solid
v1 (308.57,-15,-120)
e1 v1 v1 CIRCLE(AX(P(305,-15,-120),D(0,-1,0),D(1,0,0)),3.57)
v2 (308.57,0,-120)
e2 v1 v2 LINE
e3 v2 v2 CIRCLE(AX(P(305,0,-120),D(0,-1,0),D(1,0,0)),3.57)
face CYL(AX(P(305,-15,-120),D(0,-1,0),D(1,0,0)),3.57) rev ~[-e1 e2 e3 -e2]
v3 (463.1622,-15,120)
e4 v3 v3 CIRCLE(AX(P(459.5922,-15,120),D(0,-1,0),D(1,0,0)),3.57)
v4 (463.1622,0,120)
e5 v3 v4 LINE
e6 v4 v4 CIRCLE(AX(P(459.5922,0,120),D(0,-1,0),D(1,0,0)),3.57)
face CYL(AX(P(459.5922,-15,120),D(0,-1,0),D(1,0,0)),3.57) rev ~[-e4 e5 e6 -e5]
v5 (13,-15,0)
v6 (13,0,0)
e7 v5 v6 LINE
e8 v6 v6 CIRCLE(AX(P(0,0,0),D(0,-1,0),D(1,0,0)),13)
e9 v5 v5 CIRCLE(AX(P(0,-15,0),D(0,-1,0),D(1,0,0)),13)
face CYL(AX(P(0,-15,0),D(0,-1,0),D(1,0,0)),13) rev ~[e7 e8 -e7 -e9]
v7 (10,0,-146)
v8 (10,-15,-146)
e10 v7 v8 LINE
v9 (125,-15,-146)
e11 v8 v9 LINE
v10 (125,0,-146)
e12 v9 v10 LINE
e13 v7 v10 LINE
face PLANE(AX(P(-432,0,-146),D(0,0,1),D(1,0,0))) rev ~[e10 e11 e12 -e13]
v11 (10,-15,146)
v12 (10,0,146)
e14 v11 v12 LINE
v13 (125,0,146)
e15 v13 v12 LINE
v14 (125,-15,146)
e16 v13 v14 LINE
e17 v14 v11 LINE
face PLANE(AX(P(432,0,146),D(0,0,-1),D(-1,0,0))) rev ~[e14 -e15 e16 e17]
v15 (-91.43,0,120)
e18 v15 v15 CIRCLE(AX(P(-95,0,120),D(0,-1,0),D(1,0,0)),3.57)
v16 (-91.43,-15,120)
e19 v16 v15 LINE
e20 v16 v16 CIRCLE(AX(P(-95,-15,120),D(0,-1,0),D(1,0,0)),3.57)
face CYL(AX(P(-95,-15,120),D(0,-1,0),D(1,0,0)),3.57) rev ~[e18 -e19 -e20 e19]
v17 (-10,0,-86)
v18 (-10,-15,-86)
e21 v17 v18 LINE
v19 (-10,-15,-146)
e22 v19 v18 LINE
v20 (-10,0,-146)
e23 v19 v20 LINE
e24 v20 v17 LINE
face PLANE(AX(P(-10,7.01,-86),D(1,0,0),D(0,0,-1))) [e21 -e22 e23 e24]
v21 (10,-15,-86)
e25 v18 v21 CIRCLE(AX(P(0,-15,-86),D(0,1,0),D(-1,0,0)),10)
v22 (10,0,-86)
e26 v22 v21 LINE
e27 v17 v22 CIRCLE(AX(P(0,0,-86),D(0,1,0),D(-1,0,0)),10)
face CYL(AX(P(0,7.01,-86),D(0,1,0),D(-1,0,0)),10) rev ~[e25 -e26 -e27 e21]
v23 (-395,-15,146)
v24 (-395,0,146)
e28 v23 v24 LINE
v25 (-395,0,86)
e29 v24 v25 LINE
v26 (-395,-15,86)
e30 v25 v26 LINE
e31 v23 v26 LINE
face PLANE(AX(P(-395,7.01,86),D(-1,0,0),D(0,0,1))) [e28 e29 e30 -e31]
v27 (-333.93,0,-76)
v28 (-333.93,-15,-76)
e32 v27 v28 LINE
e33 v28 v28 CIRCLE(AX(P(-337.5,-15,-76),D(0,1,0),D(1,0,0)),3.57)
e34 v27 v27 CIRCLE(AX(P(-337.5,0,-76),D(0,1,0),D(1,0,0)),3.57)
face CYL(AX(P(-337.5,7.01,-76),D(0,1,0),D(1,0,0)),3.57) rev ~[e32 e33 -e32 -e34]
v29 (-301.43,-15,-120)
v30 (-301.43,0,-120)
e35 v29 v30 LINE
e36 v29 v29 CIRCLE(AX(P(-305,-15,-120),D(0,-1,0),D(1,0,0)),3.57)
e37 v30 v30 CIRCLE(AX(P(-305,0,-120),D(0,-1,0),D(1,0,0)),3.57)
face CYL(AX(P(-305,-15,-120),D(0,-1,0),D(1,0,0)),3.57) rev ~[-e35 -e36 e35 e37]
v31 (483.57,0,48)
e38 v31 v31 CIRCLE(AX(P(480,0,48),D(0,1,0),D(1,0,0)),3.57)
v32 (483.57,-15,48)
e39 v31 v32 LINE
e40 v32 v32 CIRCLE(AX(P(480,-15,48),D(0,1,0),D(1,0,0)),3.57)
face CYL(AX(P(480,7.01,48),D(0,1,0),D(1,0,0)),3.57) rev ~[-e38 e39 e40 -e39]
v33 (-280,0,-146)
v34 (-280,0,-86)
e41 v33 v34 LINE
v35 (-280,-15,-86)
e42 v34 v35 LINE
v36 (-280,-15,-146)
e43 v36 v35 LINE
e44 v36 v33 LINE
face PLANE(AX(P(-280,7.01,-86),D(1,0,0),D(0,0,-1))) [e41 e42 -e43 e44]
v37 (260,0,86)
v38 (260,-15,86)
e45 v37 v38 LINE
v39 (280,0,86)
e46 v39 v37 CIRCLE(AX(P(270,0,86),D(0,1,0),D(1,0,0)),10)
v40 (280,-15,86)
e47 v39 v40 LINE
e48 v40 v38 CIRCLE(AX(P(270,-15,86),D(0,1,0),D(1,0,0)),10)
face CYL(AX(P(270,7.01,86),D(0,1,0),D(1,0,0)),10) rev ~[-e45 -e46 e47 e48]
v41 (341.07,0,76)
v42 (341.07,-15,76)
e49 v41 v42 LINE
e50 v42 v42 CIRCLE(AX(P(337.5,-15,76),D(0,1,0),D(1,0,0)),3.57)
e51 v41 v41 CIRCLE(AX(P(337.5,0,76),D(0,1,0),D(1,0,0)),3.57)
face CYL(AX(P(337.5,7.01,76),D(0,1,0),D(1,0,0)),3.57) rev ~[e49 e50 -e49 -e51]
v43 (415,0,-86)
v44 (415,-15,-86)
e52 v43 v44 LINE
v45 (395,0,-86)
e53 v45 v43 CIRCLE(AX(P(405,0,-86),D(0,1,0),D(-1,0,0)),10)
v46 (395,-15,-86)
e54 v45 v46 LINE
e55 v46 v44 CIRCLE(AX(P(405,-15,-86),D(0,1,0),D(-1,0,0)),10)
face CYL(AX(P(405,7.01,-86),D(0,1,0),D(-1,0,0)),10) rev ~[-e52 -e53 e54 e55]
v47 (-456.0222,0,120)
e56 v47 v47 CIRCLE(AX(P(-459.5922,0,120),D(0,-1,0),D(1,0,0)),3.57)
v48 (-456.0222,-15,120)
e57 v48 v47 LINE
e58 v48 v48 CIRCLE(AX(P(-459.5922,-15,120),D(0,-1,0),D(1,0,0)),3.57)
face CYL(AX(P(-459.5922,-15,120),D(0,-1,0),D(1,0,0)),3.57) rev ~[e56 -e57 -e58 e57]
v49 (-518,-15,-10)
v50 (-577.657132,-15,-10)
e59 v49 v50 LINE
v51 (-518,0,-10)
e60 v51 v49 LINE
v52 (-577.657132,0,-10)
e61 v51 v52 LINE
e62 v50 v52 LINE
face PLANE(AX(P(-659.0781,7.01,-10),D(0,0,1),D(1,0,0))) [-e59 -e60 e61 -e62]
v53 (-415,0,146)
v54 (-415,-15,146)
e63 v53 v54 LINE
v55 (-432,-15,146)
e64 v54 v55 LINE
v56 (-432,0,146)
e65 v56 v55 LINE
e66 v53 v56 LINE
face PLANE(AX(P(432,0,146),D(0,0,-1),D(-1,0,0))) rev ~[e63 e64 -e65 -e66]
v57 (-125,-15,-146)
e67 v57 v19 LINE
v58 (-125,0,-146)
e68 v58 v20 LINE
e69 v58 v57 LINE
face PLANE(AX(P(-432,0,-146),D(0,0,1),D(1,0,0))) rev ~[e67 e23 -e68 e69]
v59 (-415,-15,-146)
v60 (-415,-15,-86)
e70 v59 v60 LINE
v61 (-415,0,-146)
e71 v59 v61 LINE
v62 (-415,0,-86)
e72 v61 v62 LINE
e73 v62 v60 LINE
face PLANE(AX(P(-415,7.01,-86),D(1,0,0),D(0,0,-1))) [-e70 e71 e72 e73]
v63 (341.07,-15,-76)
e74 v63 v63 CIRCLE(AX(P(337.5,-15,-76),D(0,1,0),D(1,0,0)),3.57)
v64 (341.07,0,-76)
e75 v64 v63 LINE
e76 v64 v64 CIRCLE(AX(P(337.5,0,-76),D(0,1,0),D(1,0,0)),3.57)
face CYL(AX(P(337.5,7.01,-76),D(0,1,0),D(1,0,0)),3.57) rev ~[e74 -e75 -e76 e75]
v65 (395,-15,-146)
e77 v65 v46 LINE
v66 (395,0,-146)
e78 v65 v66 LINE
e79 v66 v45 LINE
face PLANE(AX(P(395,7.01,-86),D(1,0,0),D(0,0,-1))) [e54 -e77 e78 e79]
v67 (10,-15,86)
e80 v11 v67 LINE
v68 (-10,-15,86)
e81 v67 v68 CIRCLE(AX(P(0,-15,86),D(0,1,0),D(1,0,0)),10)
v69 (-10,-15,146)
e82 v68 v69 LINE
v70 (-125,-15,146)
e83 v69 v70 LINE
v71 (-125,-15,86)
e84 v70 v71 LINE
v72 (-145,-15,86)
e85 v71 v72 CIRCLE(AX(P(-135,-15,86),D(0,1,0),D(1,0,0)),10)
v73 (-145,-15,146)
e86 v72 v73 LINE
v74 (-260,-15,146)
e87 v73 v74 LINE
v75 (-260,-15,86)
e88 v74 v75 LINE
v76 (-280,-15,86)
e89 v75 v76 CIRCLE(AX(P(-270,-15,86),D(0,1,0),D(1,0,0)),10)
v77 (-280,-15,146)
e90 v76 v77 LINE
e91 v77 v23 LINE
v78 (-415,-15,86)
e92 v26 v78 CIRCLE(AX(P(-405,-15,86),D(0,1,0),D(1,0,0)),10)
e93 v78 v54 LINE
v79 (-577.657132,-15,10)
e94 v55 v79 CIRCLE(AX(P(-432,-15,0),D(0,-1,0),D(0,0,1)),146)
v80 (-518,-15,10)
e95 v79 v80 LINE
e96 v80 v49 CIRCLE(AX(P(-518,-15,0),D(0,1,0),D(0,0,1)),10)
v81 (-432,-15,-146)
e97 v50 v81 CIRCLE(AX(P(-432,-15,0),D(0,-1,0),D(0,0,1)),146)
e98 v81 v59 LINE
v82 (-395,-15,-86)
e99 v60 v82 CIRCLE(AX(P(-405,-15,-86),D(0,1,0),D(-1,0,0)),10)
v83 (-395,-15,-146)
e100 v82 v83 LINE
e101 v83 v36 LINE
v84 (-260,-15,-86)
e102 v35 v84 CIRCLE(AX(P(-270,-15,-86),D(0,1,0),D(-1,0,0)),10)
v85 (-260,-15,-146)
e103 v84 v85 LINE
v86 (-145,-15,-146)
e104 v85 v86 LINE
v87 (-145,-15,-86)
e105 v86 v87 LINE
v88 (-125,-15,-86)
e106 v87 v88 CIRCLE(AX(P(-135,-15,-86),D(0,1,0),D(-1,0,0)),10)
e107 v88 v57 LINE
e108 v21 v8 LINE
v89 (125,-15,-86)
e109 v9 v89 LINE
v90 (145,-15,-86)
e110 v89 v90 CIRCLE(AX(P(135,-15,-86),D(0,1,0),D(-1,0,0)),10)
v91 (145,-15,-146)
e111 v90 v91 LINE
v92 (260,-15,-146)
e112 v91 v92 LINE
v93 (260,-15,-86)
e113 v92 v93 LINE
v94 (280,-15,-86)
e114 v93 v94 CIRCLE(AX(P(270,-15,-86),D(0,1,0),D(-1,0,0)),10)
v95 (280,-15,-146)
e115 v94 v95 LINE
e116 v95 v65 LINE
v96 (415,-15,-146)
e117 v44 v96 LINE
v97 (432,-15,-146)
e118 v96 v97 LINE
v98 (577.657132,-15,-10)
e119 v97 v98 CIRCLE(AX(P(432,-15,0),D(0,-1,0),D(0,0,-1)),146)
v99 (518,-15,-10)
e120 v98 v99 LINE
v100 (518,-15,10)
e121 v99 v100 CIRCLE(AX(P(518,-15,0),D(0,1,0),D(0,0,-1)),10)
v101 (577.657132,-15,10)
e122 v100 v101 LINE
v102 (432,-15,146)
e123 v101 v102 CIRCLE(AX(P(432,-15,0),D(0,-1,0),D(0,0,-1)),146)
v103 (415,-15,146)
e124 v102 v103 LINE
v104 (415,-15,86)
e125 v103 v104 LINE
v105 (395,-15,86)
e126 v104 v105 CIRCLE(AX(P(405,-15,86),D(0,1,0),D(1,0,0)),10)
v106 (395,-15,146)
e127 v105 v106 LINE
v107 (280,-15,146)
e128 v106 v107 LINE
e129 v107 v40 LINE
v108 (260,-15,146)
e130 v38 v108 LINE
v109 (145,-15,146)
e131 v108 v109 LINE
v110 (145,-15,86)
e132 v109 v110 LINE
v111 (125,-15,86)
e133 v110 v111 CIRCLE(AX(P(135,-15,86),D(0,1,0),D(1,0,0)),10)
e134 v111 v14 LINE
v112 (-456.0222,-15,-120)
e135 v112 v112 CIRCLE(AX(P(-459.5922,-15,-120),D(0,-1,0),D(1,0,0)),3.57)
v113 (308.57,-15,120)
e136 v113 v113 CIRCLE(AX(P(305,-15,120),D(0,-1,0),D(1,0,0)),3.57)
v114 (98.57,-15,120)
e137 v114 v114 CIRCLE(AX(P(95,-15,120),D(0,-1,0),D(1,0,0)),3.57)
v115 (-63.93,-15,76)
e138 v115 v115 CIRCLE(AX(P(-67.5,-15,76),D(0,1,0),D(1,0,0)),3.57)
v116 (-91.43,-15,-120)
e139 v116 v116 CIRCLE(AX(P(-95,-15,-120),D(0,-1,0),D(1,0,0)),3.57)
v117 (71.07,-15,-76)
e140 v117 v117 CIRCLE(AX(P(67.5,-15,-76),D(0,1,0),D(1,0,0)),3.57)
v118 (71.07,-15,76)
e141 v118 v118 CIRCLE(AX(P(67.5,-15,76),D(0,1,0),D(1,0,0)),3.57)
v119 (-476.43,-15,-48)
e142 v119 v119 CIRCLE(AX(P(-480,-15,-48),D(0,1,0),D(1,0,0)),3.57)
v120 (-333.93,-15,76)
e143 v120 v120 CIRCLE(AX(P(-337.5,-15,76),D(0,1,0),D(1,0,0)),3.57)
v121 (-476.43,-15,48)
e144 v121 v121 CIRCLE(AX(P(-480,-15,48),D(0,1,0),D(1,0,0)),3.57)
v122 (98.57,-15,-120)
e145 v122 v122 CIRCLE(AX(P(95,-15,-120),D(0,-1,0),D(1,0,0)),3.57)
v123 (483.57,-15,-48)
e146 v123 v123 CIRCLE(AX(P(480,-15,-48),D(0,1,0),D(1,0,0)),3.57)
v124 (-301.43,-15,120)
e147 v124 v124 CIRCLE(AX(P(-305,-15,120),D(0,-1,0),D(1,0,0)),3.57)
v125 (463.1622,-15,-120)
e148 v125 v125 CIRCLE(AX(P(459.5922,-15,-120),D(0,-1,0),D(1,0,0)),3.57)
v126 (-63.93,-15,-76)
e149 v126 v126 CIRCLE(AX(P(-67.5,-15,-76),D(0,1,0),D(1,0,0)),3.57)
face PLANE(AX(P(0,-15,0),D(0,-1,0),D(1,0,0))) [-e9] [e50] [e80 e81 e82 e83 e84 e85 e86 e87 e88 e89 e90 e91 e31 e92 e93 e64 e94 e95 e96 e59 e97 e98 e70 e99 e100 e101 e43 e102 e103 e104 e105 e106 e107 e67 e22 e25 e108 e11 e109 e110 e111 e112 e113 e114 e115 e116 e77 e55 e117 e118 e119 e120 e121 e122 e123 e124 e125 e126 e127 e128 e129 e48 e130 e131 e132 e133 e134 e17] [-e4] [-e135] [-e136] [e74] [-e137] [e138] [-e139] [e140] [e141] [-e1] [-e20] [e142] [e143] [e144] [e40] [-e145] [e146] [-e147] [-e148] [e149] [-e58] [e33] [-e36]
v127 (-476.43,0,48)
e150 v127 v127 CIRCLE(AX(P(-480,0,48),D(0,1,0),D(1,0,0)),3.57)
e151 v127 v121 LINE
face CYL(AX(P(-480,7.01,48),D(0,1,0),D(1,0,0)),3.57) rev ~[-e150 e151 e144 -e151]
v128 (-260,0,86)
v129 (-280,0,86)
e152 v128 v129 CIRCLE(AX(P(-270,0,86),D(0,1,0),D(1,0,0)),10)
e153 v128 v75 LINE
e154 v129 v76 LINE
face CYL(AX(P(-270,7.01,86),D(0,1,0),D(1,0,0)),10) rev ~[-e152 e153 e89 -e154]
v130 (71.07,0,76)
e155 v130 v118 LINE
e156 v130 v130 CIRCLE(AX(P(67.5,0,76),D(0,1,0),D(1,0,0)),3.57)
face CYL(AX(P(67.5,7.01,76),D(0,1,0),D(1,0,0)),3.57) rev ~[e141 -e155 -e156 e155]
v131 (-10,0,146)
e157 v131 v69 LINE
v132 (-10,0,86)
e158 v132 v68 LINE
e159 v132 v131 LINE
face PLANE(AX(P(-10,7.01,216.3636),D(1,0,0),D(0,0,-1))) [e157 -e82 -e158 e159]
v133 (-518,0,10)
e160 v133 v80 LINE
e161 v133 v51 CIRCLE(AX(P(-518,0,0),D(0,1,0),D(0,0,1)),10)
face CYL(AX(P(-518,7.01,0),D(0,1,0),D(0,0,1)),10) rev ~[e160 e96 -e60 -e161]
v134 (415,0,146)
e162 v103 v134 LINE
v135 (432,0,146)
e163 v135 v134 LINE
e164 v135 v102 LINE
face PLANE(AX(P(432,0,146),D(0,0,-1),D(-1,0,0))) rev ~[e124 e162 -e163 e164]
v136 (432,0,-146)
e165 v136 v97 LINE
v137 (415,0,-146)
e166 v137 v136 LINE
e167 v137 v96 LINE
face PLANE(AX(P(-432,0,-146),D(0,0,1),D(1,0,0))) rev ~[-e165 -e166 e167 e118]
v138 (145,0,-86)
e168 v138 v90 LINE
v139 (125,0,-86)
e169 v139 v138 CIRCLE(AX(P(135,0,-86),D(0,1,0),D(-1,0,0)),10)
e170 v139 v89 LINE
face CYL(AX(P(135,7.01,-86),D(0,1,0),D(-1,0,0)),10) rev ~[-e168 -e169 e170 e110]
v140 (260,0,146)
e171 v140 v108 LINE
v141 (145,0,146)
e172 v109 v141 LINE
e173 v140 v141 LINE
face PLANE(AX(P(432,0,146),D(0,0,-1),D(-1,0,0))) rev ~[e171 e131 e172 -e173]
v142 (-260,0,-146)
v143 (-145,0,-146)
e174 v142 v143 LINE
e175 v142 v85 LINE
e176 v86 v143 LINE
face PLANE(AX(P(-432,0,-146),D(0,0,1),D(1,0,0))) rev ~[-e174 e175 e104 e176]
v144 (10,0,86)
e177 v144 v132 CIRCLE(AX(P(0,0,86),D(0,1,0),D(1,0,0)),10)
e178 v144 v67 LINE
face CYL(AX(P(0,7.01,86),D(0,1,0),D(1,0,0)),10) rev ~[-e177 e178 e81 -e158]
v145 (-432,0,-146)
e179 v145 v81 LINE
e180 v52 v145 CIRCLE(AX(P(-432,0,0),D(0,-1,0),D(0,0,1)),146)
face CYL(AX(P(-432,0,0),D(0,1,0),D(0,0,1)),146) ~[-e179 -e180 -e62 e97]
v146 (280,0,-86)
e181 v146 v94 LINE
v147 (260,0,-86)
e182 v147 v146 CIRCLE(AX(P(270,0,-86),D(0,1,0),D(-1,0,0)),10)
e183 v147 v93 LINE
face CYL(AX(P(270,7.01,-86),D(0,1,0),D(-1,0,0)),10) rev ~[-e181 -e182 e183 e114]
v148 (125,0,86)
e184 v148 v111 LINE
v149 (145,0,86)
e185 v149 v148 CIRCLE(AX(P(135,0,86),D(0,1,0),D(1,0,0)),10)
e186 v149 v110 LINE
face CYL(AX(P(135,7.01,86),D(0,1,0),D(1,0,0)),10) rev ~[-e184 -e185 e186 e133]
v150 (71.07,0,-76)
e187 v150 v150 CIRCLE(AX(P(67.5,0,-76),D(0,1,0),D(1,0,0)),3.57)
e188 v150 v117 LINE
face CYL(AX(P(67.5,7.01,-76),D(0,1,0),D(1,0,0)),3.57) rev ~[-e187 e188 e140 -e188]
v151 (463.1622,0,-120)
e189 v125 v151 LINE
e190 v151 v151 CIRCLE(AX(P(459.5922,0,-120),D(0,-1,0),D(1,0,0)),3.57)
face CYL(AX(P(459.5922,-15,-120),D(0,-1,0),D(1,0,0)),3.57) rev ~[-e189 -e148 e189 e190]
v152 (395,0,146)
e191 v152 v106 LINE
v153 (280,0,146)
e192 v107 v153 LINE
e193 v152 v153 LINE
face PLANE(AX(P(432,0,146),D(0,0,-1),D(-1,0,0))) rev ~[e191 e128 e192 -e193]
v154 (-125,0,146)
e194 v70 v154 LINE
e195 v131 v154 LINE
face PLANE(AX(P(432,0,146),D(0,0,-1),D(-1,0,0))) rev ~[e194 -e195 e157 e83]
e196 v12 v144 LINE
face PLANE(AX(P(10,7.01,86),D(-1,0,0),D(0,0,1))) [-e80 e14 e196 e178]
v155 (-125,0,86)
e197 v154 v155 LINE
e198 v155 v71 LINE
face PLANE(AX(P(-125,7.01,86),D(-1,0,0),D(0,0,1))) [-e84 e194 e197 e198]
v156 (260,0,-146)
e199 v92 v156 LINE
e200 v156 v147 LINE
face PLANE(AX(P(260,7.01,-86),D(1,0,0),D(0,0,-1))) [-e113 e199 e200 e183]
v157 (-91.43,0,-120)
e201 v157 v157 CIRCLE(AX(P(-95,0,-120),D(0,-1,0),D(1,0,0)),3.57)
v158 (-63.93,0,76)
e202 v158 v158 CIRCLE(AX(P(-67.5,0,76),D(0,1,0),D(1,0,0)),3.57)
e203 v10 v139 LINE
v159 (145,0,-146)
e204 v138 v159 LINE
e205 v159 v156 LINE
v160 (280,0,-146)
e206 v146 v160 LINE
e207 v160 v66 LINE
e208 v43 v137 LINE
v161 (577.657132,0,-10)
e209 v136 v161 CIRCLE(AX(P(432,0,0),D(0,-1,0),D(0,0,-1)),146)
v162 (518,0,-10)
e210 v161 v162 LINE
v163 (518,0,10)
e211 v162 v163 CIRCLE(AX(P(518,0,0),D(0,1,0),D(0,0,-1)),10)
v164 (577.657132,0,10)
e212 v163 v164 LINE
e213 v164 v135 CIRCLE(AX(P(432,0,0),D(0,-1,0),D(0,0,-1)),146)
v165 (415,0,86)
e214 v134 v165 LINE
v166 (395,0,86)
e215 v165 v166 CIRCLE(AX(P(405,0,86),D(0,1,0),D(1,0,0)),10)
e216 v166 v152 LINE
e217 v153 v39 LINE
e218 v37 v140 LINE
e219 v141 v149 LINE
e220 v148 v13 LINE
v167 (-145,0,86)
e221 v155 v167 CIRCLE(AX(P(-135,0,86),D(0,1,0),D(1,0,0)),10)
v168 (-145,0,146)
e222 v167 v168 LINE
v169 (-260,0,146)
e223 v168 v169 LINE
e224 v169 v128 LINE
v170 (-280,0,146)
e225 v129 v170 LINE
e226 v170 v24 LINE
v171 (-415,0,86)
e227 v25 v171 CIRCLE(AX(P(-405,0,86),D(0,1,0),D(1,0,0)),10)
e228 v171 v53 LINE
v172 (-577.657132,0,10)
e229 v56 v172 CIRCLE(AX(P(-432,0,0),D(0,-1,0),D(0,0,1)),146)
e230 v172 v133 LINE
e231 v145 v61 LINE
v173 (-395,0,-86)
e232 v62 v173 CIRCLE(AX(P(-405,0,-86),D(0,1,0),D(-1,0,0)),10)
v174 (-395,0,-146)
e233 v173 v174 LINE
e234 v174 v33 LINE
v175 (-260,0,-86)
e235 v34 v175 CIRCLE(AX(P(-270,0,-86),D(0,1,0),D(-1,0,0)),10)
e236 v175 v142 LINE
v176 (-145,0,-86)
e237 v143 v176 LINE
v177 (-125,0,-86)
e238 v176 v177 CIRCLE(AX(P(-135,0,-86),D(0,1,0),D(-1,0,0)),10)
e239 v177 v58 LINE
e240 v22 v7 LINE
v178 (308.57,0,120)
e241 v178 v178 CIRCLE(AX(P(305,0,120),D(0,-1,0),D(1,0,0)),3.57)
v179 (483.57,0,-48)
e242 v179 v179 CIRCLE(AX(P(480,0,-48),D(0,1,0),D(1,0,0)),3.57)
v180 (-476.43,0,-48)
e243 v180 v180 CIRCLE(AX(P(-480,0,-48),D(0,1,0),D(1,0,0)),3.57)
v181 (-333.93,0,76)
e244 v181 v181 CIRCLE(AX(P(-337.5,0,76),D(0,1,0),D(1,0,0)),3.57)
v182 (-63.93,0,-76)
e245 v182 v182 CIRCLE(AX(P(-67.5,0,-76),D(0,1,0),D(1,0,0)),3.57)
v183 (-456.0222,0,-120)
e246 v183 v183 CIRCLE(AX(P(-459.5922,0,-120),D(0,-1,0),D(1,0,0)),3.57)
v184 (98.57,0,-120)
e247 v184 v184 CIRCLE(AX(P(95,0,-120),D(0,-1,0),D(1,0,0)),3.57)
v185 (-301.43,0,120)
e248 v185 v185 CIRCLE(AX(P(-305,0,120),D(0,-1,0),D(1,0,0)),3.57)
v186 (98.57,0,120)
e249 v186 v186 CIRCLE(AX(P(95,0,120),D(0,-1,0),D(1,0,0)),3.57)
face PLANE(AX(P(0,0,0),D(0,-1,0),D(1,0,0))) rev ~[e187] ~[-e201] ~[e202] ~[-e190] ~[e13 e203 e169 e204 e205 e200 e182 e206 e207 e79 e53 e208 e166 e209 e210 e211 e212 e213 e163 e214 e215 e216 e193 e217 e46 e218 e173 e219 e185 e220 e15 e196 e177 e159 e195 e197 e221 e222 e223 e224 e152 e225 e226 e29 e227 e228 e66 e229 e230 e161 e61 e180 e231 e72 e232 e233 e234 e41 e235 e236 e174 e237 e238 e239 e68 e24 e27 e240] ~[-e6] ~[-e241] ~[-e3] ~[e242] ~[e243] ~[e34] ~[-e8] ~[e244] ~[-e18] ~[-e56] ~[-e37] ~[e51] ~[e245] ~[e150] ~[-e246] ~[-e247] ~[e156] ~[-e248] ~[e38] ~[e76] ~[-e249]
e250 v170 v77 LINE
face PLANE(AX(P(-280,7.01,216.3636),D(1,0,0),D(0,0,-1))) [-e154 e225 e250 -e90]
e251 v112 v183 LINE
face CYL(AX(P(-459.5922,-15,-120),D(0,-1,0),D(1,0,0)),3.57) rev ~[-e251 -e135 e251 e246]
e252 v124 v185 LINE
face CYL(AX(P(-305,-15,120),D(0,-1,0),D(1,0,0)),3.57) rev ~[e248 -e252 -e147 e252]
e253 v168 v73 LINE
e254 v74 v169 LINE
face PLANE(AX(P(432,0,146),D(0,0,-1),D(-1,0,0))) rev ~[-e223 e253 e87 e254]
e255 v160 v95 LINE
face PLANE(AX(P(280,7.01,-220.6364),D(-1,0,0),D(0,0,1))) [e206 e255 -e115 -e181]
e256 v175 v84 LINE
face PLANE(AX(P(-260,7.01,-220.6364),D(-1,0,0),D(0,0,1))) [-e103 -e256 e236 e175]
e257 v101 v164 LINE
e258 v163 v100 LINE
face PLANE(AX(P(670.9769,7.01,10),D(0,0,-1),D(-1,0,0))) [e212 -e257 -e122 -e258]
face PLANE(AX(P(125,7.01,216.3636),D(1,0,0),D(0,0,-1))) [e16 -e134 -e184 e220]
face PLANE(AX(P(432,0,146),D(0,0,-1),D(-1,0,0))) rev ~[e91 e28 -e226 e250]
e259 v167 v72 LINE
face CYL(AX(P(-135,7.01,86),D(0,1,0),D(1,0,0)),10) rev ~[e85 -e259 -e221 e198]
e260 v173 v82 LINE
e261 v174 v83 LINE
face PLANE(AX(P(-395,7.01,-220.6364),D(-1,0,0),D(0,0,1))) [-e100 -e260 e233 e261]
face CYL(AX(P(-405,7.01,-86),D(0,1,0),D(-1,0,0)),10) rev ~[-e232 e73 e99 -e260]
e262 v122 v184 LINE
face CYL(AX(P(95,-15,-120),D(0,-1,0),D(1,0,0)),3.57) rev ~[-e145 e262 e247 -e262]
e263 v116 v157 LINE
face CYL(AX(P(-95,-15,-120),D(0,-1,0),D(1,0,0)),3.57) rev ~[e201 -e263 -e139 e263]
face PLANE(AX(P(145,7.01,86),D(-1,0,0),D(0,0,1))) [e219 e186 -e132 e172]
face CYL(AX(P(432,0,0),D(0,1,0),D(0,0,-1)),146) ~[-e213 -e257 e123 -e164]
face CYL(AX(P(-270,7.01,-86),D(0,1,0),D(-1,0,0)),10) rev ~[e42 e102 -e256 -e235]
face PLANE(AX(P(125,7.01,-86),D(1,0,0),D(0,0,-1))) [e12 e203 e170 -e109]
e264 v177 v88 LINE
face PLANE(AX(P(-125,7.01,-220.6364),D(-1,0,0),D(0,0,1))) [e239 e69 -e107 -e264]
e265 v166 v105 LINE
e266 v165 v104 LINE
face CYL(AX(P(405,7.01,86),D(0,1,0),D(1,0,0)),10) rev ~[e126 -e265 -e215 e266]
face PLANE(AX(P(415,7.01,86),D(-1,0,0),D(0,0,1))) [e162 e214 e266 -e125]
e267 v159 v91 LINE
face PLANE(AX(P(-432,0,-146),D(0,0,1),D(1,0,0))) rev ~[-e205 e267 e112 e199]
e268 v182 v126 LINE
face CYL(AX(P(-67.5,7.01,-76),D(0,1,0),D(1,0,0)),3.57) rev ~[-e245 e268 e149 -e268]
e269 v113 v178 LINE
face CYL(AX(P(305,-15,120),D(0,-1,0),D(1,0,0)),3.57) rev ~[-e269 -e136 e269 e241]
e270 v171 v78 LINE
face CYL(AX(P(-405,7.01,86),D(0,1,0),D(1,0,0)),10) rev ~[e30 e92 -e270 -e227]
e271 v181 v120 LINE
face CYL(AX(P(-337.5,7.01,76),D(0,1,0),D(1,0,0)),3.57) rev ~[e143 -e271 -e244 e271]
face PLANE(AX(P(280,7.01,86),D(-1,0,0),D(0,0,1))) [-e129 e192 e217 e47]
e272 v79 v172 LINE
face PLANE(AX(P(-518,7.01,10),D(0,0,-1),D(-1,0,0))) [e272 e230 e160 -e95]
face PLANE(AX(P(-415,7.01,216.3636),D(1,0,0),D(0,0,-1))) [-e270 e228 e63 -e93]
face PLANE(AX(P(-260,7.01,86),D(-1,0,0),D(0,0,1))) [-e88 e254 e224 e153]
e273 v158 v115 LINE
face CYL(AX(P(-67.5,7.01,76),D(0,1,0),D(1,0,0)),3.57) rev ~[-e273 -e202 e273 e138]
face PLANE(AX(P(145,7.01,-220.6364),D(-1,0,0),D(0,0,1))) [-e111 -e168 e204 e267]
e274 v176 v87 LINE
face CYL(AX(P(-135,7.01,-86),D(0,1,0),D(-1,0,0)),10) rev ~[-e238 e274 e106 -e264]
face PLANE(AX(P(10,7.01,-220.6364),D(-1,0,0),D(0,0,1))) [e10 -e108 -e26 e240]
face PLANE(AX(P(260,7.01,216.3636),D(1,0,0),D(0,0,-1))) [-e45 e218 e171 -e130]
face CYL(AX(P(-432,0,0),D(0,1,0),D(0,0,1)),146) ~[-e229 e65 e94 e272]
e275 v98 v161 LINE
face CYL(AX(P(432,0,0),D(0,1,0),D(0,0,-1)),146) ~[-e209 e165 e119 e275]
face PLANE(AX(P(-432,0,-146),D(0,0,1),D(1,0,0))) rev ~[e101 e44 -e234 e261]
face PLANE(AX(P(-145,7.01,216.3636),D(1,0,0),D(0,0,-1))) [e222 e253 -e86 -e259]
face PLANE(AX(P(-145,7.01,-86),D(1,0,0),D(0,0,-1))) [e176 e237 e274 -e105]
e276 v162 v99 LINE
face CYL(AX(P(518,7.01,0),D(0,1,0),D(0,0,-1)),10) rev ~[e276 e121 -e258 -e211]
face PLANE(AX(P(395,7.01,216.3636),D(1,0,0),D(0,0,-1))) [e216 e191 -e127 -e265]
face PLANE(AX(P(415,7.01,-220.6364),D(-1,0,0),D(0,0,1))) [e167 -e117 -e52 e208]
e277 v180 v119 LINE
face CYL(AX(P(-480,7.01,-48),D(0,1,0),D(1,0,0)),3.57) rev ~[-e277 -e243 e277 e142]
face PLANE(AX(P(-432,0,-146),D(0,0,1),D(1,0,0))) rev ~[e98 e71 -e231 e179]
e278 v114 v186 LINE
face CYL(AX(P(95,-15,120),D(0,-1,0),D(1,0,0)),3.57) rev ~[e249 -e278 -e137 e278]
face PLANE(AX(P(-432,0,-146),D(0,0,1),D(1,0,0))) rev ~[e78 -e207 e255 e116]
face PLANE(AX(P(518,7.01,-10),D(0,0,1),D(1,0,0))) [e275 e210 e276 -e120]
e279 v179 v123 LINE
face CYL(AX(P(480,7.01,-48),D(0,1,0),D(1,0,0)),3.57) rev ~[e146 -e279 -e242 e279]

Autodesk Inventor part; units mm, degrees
ref_plane "Work Plane2" through (0, 0, 0) normal (0, -1, 0) x (1, 0, 0)
sketch "Sketch2" plane through (0, 0, 0) normal (0, -1, 0) x (1, 0, 0)
  line L0 (-432, -146) -> (432, -146)
  line L1 (432, 146) -> (-432, 146)
  line L2 (432, -86) -> (-432, -86) projected
  line L3 (-432, 86) -> (432, 86) projected
  arc A0 (-432, 86) -> (-432, -86) centre (-432, 0) ccw projected
  arc A1 (432, -86) -> (432, 86) centre (432, 0) ccw projected
  arc A2 (432, -146) -> (432, 146) centre (432, 0) ccw
  arc A3 (-432, 146) -> (-432, -146) centre (-432, 0) ccw
  point P0 (0, 0)
  point P1 (480, -91)
  point P2 (480, 91)
  dimension "d11" = 60
  dimension "d12" = 60
extrude "Extrusion2" add sketch "Sketch2" along normal blind 15 contours A3 L1 A2 L0 | L2 A0 L3 A1
ref_plane "Work Plane1" through (0, 7.01, 0) normal (0, 1, 0) x (1, 0, 0)
sketch "Sketch4" plane through (0, 7.01, 0) normal (0, 1, 0) x (1, 0, 0)
  line L0 (-659.0781, -10) -> (-659.0781, 10)
  line L1 (670.9769, 10) -> (670.9769, -10)
  line L2 (-10, 220.6364) -> (10, 220.6364)
  line L3 (-125, -216.3636) -> (-145, -216.3636)
  line L4 (-145, 220.6364) -> (-125, 220.6364)
  line L5 (-260, -216.3636) -> (-280, -216.3636)
  line L6 (-280, 220.6364) -> (-260, 220.6364)
  line L7 (145, -216.3636) -> (125, -216.3636)
  line L8 (125, 220.6364) -> (145, 220.6364)
  line L9 (280, -216.3636) -> (260, -216.3636)
  line L10 (260, 220.6364) -> (280, 220.6364)
  line L11 (395, 220.6364) -> (415, 220.6364)
  line L12 (-432, -86) -> (432, -86) projected
  line L13 (432, 86) -> (-432, 86) projected
  line L14 (395, 86) -> (395, 220.6364)
  line L15 (415, 220.6364) -> (415, 86)
  line L16 (280, -86) -> (280, -216.3636)
  line L17 (260, -216.3636) -> (260, -86)
  line L18 (280, 220.6364) -> (280, 86)
  line L19 (260, 86) -> (260, 220.6364)
  line L20 (145, -86) -> (145, -216.3636)
  line L21 (125, -216.3636) -> (125, -86)
  line L22 (145, 220.6364) -> (145, 86)
  line L23 (125, 86) -> (125, 220.6364)
  line L24 (10, 220.6364) -> (10, 86)
  line L25 (-10, 86) -> (-10, 220.6364)
  line L26 (-125, -86) -> (-125, -216.3636)
  line L27 (-145, -216.3636) -> (-145, -86)
  line L28 (-125, 220.6364) -> (-125, 86)
  line L29 (-145, 86) -> (-145, 220.6364)
  line L30 (-260, -86) -> (-260, -216.3636)
  line L31 (-280, -216.3636) -> (-280, -86)
  line L32 (-260, 220.6364) -> (-260, 86)
  line L33 (-280, 86) -> (-280, 220.6364)
  arc A0 (395, 86) -> (415, 86) centre (405, 86) ccw
  arc A1 (260, 86) -> (280, 86) centre (270, 86) ccw
  arc A2 (125, 86) -> (145, 86) centre (135, 86) ccw
  arc A3 (-10, 86) -> (10, 86) centre (0, 86) ccw
  arc A4 (-145, 86) -> (-125, 86) centre (-135, 86) ccw
  arc A5 (-280, 86) -> (-260, 86) centre (-270, 86) ccw
  arc A6 (-260, -86) -> (-280, -86) centre (-270, -86) ccw
  arc A7 (-125, -86) -> (-145, -86) centre (-135, -86) ccw
  arc A8 (145, -86) -> (125, -86) centre (135, -86) ccw
  arc A9 (280, -86) -> (260, -86) centre (270, -86) ccw
  arc A10 (432, -86) -> (432, 86) centre (432, 0) ccw projected
  arc A11 (518, 10) -> (518, -10) centre (518, 0) ccw
  arc A12 (-518, -10) -> (-518, 10) centre (-518, 0) ccw
  line L34 (-659.0781, 10) -> (-518, 10)
  line L35 (517.4166, 10) -> (670.9769, 10)
  line L36 (670.9769, -10) -> (518, -10)
  line L37 (-518, -10) -> (-659.0781, -10)
  circle A13 centre (-480, 48) radius 3.57
  circle A14 centre (-337.5, 76) radius 3.57
  circle A15 centre (337.5, 76) radius 3.57
  circle A16 centre (480, 48) radius 3.57
  circle A17 centre (480, -48) radius 3.57
  circle A18 centre (337.5, -76) radius 3.57
  circle A19 centre (-337.5, -76) radius 3.57
  circle A20 centre (-480, -48) radius 3.57
  arc A21 (-432, 86) -> (-432, -86) centre (-432, 0) ccw projected
  line L38 (10, -86) -> (10, -216.3636)
  line L39 (-10, -216.3636) -> (-10, -86)
  arc A22 (10, -86) -> (-10, -86) centre (0, -86) ccw
  line L40 (-10, -216.3636) -> (10, -216.3636)
  line L41 (-415, 220.6364) -> (-395, 220.6364)
  line L42 (-395, 220.6364) -> (-395, 86)
  line L43 (-415, 86) -> (-415, 220.6364)
  arc A23 (-415, 86) -> (-395, 86) centre (-405, 86) ccw
  line L44 (415, -216.3636) -> (395, -216.3636)
  line L45 (415, -86) -> (415, -216.3636)
  line L46 (395, -216.3636) -> (395, -86)
  arc A24 (415, -86) -> (395, -86) centre (405, -86) ccw
  line L47 (-395, -216.3636) -> (-415, -216.3636)
  line L48 (-395, -86) -> (-395, -216.3636)
  line L49 (-415, -216.3636) -> (-415, -86)
  arc A25 (-395, -86) -> (-415, -86) centre (-405, -86) ccw
  line L50 (-432, 0) -> (-518, 0)
  circle A26 centre (-67.5, 76) radius 3.57
  circle A27 centre (67.5, 76) radius 3.57
  circle A28 centre (67.5, -76) radius 3.57
  circle A29 centre (-67.5, -76) radius 3.57
  point P0 (480, -91)
  point P1 (480, 91)
  point P2 (-395, 86)
  point P3 (-395, 86)
  dimension "d18" = 20
  dimension "d54" = 76
  dimension "d55" = 48
  dimension "d59" = 48
  dimension "d60" = 76
  dimension "d73" = 7.14
  dimension "d109" = 135
  dimension "d110" = 135
  dimension "d111" = 135
  dimension "d112" = 135
  dimension "d113" = 135
  dimension "d115" = 135
  dimension "d116" = 20
  dimension "d120" = 48
  dimension "d121" = 38
  dimension "d122" = 38
  dimension "d123" = 48
  dimension "d124" = 38
  dimension "d125" = 38
  dimension "d130" = 76
  dimension "d131" = 76
  dimension "d144" = 76
  dimension "d145" = 76
  dimension "d146" = 76
  dimension "d147" = 76
  dimension "d149" = 57.5
  dimension "d150" = 57.5
  dimension "d151" = 57.5
  dimension "d152" = 57.5
  dimension "d153" = 57.5
  dimension "d154" = 57.5
  dimension "d155" = 57.5
  dimension "d156" = 57.5
extrude "Extrusion3" cut sketch "Sketch4" against normal through all contours L0 L34 A12 A21 L37 | A21 L50 A12 | A12 L50 A21 | A25 L12 | L12 L48 L47 L49 | L43 L41 L42 L13 | L13 A23 | A6 L12 | L12 L30 L5 L31 | L33 L6 L32 L13 | L13 A5 | A7 L12 | L12 L26 L3 L27 | L29 L4 L28 L13 | L13 A4 | A22 L12 | L12 L38 L40 L39 | L25 L2 L24 L13 | L13 A3 | A8 L12 | L12 L20 L7 L21 | L23 L8 L22 L13 | L13 A2 | A9 L12 | L12 L16 L9 L17 | L19 L10 L18 L13 | L13 A1 | A24 L12 | L12 L45 L44 L46 | L14 L11 L15 L13 | L13 A0 | A11 A10 | A10 A11 L35 L1 L36 | A13 | A14 | A15 | A16 | A17 | A18 | A19 | A20 | A26 | A27 | A28 | A29
ref_plane "Work Plane3" through (0, -15, 0) normal (0, -1, 0) x (1, 0, 0)
sketch "Sketch8" plane through (0, -15, 0) normal (0, -1, 0) x (1, 0, 0)
  circle A0 centre (0, 0) radius 475 construction
  line L0 (-733, 120) -> (746, 120) construction
  line L1 (746, 120) -> (746, -120) construction
  line L2 (746, -120) -> (-733, -120) construction
  line L3 (-733, -120) -> (-733, 120) construction
  circle A1 centre (-459.5922, 120) radius 3.57
  circle A2 centre (-459.5922, -120) radius 3.57
  circle A3 centre (459.5922, 120) radius 3.57
  circle A4 centre (459.5922, -120) radius 3.57
  line L4 (-95, 223) -> (95, 223) construction
  line L5 (95, 223) -> (95, -273) construction
  line L6 (95, -273) -> (-95, -273) construction
  line L7 (-95, -273) -> (-95, 223) construction
  circle A5 centre (-95, 120) radius 3.57
  circle A6 centre (95, 120) radius 3.57
  circle A7 centre (95, -120) radius 3.57
  circle A8 centre (-95, -120) radius 3.57
  circle A9 centre (0, 0) radius 13
  circle A10 centre (0, 0) radius 509.5
  line L8 (-305, 252.8869) -> (-305, -295.4174) construction
  line L9 (305, 244.7236) -> (305, -288.6146) construction
  circle A11 centre (-305, 120) radius 3.57
  circle A12 centre (-305, -120) radius 3.57
  circle A13 centre (305, 120) radius 3.57
  circle A14 centre (305, -120) radius 3.57
  dimension "d78" = 950
  dimension "d79" = 240
  dimension "d80" = 120
  dimension "d81" = 7.14
  dimension "d82" = 7.14
  dimension "d83" = 7.14
  dimension "d84" = 7.14
  dimension "d85" = 190
  dimension "d86" = 95
  dimension "d87" = 7.14
  dimension "d89" = 7.14
  dimension "d91" = 7.14
  dimension "d93" = 7.14
  dimension "d98" = 26
  dimension "d132" = 1019
  dimension "d133" = 210
  dimension "d134" = 210
  dimension "d135" = 7.14
  dimension "d136" = 7.14
  dimension "d137" = 7.14
  dimension "d138" = 7.14
extrude "Extrusion5" cut sketch "Sketch8" against normal through all contours A1 | A2 | A3 | A4 | A5 | A6 | A7 | A8 | A9 | A11 | A12 | A13 | A14
properties part number "1313_Former Bottom_V1" material "Aluminum 6061"
